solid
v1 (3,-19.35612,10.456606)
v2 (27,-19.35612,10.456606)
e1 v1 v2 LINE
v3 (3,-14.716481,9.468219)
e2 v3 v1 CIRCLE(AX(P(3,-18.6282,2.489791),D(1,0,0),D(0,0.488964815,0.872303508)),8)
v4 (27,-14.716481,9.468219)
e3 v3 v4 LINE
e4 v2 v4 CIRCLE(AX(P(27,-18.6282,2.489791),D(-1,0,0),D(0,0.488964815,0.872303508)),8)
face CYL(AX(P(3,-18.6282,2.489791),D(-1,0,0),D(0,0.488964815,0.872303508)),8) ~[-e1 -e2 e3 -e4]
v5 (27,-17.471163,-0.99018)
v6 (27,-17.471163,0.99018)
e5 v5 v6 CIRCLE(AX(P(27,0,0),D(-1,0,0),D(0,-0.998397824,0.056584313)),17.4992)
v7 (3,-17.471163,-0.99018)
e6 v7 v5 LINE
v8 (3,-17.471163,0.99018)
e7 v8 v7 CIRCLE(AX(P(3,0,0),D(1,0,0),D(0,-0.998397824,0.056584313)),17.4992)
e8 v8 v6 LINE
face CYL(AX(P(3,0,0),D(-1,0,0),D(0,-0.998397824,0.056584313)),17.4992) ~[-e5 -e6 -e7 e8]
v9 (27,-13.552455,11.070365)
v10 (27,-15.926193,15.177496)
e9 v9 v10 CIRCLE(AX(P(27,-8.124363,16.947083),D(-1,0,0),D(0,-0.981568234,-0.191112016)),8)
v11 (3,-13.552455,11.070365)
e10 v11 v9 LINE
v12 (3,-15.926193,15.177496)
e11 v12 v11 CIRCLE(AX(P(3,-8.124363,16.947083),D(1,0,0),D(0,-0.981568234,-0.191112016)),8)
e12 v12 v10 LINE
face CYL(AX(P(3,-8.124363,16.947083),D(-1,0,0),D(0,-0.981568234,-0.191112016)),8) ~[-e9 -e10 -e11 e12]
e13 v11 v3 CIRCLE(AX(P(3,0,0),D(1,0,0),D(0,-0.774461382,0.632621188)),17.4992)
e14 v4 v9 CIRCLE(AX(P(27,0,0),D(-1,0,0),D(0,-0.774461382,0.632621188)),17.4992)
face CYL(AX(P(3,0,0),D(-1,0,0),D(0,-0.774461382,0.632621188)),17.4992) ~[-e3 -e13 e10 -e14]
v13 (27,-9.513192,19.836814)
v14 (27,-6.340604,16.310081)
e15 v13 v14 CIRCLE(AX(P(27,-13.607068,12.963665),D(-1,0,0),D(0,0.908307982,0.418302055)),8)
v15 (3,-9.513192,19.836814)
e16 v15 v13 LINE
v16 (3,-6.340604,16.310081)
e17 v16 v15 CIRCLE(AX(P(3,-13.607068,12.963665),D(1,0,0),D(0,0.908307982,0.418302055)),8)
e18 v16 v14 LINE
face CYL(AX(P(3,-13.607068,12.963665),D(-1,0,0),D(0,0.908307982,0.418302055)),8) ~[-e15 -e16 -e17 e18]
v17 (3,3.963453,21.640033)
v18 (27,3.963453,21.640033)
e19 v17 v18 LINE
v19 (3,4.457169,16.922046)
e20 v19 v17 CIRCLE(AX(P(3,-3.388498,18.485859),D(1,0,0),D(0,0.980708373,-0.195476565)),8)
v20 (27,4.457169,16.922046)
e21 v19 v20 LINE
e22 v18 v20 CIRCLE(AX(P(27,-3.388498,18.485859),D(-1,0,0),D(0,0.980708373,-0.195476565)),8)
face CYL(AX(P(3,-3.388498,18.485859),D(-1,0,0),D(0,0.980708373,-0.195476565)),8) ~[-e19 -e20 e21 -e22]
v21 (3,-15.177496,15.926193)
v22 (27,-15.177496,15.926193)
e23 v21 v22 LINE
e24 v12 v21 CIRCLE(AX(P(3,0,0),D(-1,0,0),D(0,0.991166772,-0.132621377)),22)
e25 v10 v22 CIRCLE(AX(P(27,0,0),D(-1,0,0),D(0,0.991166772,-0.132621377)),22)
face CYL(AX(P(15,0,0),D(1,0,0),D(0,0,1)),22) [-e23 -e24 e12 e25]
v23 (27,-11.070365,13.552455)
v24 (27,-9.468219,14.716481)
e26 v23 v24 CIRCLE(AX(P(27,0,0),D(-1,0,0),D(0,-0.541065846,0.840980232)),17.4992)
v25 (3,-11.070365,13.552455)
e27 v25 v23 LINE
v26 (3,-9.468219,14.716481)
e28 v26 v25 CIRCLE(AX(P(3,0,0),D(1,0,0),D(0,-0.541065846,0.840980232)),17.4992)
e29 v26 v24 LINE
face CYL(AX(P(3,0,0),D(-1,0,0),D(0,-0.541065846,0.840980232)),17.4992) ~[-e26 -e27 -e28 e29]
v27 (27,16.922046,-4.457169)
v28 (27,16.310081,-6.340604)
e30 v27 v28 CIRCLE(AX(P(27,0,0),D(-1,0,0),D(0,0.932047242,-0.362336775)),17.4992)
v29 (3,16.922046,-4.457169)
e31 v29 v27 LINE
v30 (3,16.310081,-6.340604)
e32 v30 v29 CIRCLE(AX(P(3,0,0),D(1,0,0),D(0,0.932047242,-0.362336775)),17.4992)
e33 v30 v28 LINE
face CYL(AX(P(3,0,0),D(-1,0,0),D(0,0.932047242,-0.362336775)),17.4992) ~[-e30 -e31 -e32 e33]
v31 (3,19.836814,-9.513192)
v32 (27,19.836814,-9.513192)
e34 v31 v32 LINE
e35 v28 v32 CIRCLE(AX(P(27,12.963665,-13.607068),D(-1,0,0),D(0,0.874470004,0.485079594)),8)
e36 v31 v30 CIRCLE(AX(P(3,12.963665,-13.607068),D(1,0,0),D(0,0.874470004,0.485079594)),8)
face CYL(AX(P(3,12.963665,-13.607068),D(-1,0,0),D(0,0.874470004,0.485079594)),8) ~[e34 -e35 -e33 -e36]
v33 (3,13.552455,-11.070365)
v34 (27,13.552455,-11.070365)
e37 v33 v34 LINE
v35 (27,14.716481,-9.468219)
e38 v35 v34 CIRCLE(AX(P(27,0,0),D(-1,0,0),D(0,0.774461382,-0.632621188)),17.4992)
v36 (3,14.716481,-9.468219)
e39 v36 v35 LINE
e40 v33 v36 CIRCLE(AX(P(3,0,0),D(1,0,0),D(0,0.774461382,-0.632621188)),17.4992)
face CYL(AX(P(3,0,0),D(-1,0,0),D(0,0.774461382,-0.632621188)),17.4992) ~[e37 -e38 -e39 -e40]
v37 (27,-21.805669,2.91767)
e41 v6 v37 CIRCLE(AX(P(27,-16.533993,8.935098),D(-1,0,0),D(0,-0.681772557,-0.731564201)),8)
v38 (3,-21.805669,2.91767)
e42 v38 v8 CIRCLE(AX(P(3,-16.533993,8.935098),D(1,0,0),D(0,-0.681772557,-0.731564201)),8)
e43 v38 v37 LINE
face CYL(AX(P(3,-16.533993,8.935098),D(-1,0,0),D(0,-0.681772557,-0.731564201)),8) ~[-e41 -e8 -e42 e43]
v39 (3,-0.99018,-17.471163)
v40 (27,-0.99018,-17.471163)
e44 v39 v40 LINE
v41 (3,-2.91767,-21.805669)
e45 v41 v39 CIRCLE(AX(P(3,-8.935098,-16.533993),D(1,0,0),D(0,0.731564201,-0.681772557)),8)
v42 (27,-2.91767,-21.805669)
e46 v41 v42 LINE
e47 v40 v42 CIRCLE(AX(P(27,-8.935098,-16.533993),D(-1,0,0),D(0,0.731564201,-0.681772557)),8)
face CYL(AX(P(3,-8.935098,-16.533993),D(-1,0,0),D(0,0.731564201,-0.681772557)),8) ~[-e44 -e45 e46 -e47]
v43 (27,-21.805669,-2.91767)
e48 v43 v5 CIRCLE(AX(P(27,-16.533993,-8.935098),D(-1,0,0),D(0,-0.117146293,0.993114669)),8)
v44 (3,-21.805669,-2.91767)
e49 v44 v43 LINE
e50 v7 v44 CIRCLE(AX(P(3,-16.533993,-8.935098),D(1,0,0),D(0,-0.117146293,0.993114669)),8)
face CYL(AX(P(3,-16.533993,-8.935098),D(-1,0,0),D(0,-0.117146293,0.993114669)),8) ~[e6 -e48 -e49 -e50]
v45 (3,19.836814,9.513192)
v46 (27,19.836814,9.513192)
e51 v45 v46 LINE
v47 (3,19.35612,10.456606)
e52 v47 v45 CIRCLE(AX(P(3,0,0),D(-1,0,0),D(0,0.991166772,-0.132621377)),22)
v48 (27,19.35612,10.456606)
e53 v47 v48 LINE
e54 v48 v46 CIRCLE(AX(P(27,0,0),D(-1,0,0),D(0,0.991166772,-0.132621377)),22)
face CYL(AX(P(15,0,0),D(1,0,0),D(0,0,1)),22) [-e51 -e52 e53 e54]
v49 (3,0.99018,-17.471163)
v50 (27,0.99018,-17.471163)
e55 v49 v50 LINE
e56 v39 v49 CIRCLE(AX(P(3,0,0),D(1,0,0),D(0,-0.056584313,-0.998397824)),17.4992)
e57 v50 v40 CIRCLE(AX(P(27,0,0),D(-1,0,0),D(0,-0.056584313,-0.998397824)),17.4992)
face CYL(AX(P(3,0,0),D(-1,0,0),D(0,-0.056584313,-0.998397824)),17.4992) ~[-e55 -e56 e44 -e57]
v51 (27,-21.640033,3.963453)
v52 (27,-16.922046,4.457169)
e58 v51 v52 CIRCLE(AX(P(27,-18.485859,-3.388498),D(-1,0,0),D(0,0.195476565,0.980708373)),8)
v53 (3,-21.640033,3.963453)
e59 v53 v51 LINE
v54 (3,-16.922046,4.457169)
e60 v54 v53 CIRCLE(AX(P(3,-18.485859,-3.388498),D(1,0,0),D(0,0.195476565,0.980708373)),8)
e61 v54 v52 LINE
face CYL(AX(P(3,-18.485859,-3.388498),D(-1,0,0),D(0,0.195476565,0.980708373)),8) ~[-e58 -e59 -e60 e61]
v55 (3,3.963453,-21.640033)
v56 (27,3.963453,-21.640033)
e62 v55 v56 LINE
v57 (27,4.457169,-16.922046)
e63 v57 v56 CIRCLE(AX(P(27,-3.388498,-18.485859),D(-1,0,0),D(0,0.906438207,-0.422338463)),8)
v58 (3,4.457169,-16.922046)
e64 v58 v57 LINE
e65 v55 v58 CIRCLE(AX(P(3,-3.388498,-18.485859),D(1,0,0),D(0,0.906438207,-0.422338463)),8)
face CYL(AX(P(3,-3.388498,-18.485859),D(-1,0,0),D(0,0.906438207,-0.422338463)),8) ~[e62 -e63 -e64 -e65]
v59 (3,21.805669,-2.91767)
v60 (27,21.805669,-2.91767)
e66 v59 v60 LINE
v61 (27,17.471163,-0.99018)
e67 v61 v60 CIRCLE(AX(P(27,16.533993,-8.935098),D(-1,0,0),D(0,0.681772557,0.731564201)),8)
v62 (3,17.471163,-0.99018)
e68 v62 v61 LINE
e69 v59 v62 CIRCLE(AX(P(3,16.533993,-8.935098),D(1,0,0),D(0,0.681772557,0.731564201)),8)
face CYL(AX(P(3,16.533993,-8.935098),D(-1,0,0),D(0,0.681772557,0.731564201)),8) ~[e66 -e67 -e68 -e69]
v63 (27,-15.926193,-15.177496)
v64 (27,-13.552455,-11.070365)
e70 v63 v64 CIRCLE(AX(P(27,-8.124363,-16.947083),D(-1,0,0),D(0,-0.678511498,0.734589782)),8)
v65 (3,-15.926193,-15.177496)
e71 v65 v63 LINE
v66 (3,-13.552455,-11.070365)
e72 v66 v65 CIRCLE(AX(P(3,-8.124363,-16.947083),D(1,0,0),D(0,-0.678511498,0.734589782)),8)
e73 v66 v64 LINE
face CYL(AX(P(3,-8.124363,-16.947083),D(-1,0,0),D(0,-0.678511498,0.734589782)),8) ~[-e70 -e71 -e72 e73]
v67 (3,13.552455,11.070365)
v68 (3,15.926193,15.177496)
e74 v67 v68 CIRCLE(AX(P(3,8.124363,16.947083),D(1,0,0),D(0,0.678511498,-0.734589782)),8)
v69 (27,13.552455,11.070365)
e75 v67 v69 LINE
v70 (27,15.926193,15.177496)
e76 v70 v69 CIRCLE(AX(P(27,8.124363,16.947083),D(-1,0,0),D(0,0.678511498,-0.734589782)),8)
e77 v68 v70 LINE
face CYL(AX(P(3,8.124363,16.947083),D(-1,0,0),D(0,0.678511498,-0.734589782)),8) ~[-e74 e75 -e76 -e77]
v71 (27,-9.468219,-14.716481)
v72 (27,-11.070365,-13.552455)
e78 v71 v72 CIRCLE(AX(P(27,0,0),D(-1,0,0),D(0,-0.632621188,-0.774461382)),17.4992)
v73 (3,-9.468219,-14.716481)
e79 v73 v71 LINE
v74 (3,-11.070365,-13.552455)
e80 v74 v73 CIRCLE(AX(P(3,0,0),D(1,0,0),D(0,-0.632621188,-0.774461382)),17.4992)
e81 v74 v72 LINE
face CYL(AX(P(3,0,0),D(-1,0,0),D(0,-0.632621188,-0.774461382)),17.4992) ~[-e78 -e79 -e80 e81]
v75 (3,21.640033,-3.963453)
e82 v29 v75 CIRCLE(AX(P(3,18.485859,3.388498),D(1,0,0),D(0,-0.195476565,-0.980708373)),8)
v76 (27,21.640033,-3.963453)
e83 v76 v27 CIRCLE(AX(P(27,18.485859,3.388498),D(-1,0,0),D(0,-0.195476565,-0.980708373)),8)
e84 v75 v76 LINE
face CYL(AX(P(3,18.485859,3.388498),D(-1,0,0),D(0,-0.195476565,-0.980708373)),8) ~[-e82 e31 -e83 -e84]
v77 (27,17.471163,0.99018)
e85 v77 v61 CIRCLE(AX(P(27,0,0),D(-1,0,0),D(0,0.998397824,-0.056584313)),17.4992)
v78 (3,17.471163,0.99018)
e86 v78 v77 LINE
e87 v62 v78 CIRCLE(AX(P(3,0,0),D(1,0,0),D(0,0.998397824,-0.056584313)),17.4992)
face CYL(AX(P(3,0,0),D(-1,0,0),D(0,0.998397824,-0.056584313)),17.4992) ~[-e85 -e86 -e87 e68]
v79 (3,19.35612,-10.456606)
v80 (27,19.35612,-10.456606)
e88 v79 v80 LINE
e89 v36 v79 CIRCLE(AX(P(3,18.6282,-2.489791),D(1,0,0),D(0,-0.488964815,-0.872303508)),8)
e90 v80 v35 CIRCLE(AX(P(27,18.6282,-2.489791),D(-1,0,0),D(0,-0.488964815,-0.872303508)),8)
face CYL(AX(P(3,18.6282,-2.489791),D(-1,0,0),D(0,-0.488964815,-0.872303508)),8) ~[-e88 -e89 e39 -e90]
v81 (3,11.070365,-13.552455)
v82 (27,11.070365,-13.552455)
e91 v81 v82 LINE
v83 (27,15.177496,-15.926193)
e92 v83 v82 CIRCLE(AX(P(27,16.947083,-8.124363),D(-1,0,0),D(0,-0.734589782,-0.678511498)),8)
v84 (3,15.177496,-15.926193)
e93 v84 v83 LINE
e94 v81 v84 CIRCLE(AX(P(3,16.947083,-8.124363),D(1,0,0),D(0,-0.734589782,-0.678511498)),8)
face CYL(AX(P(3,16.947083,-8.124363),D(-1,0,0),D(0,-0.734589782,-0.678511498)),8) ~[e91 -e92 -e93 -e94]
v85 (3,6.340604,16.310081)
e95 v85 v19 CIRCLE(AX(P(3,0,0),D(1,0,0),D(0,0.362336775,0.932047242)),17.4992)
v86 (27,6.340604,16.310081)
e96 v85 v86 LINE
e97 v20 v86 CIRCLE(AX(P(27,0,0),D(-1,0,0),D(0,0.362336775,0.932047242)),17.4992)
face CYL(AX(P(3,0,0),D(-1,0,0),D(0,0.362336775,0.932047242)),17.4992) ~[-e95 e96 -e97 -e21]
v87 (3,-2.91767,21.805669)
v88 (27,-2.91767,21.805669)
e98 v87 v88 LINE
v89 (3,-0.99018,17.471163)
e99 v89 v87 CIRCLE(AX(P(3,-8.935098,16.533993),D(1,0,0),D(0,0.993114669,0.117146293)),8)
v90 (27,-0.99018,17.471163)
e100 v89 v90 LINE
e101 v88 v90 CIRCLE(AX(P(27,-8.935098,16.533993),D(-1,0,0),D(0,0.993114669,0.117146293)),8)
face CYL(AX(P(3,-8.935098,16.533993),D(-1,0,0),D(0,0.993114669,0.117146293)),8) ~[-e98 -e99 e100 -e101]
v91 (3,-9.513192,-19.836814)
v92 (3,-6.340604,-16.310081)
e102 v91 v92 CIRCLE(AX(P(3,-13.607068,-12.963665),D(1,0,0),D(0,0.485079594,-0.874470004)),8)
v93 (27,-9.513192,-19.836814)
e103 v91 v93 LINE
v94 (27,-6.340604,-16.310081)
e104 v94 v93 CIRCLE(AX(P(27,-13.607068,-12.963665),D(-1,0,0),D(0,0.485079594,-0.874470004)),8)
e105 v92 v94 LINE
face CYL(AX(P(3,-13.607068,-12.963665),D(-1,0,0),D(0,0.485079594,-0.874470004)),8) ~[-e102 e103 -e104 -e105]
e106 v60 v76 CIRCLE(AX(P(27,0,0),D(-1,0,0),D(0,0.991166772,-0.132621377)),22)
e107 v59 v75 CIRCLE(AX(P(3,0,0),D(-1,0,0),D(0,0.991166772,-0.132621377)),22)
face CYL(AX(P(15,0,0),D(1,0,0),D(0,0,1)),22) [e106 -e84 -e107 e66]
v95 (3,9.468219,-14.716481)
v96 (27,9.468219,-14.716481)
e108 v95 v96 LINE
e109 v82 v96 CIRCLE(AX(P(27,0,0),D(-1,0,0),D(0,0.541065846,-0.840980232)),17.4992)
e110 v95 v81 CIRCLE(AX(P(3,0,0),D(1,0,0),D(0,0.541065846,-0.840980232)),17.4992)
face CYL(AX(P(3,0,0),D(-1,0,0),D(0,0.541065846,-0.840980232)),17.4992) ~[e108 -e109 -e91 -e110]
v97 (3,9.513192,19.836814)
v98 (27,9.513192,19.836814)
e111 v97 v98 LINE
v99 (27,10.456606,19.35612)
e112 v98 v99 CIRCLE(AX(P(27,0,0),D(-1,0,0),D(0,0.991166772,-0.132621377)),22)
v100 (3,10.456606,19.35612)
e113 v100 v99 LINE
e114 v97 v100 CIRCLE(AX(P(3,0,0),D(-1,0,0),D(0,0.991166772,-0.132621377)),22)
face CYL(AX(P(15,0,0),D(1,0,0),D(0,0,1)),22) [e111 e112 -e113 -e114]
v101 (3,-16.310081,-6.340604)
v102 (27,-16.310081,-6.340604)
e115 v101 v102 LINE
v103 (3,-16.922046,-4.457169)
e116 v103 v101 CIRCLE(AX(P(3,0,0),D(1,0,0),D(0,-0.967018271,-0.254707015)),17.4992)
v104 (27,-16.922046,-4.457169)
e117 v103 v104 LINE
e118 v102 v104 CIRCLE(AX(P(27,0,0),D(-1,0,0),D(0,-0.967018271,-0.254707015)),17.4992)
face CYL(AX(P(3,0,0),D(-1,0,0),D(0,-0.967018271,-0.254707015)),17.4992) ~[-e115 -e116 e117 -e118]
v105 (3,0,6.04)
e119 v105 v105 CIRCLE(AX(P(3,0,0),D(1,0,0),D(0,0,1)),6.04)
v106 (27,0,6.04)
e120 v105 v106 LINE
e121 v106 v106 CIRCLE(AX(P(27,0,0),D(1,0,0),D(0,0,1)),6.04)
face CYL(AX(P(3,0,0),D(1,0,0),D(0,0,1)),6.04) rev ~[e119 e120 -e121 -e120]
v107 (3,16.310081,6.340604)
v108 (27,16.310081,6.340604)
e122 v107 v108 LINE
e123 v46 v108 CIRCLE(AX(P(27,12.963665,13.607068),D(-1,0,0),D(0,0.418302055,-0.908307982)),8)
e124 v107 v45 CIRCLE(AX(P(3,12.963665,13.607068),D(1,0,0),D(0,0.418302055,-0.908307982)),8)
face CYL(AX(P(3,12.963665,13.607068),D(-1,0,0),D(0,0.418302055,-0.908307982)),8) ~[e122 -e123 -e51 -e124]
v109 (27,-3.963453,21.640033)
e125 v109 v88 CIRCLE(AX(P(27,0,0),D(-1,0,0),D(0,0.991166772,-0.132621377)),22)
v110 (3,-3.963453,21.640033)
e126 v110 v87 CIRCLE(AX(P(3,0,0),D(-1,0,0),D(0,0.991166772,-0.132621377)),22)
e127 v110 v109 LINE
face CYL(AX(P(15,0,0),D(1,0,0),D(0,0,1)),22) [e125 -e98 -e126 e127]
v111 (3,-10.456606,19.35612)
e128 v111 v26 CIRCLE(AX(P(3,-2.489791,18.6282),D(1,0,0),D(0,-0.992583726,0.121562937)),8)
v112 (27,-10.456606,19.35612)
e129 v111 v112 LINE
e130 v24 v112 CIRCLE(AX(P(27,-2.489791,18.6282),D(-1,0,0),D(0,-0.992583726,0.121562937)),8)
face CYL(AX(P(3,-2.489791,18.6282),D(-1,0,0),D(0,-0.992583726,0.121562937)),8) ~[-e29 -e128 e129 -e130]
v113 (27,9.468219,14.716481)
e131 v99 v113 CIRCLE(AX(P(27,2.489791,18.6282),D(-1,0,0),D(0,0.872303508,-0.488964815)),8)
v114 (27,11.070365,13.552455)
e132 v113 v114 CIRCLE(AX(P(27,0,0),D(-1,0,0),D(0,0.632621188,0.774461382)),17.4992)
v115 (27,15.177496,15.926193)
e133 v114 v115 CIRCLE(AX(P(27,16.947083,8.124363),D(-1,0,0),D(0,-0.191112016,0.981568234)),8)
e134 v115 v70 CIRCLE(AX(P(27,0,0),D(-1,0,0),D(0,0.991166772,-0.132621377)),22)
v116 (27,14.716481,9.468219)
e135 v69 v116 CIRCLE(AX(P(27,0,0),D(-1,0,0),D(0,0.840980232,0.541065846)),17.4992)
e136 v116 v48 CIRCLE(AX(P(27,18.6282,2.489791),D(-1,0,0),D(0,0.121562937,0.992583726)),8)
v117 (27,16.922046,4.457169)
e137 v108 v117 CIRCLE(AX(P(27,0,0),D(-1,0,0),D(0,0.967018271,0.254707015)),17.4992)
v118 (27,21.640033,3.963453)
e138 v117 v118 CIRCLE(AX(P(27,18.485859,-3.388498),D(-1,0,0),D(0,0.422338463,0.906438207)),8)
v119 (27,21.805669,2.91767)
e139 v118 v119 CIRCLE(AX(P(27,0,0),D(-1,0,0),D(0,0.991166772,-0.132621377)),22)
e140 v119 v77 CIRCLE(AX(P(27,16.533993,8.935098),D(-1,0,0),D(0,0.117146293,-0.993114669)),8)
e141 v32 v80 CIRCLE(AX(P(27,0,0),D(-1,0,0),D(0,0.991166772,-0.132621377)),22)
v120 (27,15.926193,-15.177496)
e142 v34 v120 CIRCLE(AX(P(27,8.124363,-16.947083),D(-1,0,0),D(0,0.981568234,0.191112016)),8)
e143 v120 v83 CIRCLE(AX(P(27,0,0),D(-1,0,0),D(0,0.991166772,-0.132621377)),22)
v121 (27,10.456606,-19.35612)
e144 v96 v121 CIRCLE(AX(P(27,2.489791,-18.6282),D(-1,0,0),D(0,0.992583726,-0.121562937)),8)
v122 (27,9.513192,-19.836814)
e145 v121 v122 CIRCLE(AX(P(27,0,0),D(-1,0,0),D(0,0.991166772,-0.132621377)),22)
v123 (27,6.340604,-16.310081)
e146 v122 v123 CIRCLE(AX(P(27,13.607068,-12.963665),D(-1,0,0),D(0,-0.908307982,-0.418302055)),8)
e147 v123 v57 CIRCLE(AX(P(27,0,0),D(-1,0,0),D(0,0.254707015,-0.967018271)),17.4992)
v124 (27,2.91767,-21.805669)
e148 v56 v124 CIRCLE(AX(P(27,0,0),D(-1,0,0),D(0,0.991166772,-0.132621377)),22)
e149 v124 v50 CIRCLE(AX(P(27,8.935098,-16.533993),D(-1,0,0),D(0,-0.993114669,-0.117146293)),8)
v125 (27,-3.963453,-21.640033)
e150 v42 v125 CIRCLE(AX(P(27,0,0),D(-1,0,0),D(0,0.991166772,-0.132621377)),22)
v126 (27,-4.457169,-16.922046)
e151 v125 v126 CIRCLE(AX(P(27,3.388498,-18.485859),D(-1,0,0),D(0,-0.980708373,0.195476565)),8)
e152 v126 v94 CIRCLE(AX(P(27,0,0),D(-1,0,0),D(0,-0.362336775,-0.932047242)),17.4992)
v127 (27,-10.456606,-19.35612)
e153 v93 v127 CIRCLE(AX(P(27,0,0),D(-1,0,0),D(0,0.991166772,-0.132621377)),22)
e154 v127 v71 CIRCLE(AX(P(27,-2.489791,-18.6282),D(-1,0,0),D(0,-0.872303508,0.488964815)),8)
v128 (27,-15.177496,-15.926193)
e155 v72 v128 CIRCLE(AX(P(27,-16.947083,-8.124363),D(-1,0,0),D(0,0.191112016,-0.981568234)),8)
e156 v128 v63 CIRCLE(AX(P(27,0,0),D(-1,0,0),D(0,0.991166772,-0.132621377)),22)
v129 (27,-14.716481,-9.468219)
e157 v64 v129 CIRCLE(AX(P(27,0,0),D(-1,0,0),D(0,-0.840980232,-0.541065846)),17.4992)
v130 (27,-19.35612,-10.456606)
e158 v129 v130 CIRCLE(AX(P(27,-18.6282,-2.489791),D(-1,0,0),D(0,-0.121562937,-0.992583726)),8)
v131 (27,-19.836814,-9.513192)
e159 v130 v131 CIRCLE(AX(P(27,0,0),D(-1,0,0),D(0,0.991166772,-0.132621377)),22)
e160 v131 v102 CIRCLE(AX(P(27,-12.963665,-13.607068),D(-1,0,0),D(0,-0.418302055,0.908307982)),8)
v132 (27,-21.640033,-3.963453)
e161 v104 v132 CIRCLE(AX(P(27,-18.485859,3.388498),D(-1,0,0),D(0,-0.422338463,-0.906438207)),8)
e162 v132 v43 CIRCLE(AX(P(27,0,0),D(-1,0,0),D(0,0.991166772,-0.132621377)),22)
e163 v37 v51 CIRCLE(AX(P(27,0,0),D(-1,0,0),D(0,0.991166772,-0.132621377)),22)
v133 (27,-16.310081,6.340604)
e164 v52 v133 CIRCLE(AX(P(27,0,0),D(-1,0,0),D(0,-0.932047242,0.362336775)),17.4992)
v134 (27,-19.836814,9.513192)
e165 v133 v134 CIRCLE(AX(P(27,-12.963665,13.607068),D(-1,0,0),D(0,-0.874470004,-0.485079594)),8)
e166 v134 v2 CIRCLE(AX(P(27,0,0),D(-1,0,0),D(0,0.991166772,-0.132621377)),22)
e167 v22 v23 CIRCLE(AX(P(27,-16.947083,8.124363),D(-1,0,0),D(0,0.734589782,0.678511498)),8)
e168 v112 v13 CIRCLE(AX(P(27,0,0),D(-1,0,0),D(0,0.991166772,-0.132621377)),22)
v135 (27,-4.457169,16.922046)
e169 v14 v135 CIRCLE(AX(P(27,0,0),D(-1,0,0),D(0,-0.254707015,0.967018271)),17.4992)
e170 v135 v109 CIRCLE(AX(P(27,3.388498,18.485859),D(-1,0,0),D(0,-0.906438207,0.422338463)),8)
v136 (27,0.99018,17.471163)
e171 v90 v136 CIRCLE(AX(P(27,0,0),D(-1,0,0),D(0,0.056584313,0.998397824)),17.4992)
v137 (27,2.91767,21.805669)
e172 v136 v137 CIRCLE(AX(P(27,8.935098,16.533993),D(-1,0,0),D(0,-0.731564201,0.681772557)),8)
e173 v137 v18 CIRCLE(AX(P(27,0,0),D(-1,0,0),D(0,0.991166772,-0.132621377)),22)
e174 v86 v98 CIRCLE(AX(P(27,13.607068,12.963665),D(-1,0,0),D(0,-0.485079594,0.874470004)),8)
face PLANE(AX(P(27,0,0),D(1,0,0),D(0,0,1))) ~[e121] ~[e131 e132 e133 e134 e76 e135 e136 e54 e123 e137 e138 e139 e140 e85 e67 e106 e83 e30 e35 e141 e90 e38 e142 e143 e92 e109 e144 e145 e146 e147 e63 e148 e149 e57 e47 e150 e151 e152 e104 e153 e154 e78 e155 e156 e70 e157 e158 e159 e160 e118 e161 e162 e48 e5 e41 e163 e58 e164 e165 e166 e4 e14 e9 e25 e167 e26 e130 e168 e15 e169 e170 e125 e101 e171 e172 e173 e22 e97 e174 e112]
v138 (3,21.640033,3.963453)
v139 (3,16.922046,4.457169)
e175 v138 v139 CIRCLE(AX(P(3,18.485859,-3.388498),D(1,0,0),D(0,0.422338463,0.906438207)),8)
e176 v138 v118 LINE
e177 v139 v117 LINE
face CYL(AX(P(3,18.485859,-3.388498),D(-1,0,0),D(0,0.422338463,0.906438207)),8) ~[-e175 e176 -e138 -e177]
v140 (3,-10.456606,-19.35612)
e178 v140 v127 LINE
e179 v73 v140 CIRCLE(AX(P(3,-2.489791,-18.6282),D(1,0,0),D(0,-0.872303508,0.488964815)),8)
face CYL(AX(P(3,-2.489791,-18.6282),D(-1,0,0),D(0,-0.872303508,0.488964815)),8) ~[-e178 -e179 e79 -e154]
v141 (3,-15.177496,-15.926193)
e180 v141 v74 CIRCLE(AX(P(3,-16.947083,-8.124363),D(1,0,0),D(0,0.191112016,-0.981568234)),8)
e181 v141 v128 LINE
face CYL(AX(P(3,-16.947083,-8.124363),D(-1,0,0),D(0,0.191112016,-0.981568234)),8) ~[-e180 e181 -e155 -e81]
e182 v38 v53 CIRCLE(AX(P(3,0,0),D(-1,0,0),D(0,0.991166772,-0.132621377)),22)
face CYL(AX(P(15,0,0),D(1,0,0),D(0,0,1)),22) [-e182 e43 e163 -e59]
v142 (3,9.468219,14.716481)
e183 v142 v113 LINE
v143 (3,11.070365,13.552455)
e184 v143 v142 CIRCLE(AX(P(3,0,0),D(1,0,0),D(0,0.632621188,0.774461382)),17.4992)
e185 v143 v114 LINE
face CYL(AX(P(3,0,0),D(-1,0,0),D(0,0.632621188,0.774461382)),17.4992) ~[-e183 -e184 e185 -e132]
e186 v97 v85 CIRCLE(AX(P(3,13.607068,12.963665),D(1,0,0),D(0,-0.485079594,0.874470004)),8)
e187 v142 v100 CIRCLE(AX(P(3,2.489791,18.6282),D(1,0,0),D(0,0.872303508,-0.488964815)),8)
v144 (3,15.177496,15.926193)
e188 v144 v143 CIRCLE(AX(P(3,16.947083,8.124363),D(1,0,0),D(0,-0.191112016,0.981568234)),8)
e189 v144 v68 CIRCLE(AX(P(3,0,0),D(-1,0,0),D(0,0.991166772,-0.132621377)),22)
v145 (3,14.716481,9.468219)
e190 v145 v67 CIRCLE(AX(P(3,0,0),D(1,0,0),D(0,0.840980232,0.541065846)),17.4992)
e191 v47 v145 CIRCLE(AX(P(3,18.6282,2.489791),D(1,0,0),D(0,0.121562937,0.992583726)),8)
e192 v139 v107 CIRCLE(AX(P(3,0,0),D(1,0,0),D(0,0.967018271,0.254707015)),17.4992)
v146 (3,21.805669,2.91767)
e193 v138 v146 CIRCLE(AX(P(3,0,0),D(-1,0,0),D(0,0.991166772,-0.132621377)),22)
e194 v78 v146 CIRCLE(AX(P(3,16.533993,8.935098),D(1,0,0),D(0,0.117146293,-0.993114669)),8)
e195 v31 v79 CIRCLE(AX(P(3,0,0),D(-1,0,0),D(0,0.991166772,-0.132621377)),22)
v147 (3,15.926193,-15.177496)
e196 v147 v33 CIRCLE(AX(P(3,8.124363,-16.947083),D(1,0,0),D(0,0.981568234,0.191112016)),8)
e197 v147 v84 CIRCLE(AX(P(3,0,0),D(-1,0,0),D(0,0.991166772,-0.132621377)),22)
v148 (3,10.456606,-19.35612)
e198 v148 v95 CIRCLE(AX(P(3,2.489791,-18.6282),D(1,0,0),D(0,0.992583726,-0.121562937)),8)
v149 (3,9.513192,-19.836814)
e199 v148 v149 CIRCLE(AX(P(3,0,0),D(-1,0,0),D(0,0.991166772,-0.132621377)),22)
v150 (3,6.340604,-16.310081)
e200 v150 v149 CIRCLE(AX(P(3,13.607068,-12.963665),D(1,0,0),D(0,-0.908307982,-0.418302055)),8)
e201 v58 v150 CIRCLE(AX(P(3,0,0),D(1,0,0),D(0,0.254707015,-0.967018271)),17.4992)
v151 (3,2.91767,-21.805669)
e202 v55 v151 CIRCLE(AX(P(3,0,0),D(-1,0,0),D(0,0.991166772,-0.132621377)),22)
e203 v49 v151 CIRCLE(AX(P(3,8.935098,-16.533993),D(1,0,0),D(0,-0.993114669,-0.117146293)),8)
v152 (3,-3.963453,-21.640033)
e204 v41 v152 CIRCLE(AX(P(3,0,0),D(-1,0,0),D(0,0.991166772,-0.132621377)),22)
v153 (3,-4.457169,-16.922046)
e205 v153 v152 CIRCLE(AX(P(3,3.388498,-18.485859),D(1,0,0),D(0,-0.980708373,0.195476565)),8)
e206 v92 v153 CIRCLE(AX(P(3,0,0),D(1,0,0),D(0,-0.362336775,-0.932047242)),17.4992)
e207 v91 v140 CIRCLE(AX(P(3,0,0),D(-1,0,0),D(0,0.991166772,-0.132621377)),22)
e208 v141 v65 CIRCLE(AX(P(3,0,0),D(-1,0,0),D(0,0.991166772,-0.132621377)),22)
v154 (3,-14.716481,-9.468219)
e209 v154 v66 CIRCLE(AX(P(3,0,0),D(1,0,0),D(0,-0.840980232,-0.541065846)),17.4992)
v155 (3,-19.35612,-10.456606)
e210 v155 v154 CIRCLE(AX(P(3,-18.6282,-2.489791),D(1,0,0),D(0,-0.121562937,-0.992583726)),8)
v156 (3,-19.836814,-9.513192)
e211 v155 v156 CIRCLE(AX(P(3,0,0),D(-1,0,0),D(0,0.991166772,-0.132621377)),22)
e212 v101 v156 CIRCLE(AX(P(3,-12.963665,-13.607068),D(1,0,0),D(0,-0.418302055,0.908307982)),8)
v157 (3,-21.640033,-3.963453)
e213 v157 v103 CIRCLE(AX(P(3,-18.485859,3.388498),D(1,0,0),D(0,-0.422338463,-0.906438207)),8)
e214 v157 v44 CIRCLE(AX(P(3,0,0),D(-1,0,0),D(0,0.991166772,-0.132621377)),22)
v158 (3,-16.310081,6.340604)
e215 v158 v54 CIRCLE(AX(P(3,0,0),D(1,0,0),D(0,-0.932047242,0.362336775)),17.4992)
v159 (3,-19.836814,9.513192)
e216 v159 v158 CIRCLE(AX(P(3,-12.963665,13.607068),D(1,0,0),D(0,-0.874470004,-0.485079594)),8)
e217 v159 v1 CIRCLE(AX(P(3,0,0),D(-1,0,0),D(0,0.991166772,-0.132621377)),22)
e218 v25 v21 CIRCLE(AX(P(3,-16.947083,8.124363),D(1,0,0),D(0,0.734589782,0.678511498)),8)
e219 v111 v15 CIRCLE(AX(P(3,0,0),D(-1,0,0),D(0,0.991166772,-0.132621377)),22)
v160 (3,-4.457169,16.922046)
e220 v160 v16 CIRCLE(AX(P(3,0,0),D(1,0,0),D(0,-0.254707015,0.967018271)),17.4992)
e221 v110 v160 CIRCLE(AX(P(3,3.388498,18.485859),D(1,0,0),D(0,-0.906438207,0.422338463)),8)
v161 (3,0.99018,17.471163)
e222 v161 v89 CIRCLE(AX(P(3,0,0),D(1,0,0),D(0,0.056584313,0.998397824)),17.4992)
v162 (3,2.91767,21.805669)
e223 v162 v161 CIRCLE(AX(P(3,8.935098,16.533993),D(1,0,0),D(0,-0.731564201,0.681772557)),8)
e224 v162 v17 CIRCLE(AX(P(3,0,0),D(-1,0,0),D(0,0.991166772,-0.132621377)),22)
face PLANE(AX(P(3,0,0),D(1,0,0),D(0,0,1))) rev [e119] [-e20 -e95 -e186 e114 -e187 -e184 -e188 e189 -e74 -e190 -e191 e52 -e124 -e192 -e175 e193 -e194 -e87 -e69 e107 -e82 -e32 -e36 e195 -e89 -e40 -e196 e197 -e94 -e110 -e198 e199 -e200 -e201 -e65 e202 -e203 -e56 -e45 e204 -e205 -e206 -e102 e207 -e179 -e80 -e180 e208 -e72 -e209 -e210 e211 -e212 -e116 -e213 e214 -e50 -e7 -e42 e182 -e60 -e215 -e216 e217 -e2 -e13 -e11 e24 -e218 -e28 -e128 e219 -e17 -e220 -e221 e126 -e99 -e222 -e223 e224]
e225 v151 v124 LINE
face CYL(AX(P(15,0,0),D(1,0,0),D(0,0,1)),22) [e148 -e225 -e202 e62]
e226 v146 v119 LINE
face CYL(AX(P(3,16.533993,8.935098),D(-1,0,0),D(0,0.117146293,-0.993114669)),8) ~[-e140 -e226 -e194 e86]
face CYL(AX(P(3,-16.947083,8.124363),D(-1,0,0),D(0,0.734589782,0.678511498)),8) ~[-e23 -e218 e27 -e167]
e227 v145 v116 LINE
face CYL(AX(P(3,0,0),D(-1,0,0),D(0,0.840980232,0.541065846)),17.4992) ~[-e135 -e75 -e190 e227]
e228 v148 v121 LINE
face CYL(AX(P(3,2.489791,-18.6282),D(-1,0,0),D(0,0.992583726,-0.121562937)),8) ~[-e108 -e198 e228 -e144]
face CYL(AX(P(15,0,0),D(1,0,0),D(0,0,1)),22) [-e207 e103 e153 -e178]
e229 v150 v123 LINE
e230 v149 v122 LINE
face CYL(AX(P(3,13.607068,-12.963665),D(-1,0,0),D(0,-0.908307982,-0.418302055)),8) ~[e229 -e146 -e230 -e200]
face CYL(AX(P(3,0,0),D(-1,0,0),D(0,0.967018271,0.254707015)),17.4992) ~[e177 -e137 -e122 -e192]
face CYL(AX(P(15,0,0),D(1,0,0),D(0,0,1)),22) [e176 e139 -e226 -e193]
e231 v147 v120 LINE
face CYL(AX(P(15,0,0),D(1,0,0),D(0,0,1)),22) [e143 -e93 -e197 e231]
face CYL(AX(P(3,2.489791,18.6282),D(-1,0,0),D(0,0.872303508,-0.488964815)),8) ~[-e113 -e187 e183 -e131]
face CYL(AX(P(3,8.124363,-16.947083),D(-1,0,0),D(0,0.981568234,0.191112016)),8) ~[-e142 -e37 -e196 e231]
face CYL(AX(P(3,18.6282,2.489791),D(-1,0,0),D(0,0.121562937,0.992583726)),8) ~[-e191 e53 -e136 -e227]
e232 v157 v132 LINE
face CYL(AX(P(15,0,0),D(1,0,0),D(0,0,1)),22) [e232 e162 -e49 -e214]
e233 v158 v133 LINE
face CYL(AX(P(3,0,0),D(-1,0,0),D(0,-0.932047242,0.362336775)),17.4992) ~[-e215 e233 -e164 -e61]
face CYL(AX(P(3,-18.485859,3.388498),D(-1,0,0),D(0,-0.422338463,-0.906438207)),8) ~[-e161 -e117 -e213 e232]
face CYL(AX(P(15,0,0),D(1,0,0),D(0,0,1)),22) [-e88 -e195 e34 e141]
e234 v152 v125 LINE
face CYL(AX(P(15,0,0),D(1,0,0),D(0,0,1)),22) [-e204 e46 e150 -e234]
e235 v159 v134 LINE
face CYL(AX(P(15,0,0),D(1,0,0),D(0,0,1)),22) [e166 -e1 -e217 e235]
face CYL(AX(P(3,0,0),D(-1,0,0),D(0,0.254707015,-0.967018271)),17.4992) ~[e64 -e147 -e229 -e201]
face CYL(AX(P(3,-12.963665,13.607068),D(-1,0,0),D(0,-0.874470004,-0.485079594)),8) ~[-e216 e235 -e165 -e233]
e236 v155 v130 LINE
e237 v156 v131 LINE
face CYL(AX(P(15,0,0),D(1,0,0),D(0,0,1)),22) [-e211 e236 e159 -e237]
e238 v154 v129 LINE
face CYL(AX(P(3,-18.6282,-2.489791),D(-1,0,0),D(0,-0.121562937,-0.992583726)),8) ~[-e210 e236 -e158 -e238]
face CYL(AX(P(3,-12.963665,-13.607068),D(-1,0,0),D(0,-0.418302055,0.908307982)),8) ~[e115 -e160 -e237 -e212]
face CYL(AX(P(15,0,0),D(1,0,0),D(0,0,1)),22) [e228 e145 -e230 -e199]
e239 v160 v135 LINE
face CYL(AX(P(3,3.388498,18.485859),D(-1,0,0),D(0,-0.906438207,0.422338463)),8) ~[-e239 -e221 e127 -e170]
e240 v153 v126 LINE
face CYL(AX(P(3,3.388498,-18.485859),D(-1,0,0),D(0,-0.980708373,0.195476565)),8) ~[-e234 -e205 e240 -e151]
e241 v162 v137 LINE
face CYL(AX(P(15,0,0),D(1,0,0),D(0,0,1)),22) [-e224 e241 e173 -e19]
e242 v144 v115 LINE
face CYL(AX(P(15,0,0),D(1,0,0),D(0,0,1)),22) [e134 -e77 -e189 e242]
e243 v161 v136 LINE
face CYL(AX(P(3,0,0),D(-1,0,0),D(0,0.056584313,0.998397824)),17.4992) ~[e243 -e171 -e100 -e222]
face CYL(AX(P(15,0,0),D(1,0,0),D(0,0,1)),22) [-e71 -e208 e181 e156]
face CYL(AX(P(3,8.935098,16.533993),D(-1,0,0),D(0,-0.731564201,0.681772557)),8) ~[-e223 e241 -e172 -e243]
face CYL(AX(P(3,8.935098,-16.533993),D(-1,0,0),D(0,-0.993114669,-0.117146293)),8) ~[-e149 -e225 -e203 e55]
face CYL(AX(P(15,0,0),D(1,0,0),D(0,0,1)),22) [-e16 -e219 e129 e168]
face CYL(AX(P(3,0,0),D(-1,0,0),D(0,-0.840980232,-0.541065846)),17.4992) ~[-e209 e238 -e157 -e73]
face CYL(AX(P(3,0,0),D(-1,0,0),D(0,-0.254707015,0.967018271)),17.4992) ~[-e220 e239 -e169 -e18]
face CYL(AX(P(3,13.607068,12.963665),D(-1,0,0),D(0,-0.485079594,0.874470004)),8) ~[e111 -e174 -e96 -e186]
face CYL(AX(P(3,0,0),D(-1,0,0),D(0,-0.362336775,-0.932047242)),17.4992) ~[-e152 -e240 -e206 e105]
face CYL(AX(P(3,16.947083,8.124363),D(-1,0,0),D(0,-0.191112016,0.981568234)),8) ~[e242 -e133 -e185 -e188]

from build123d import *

# Parameters (mm, degrees)
BASPROSKE_W     = 30
BASPROSKE_H     = 27.5
TOOTHCUT_DEPTH  = 50.117206761
TEETHCUTS_COUNT = 20
TEETHCUTS_ANGLE = 342
BORSKE_R        = 7.55
BORE_DEPTH      = 50.000508
SCALE1_SCALE    = 0.8


with BuildPart() as part:
    # BasProSke → Base-Revolve (revolve)
    with BuildSketch(Plane(origin=(0, 0, 0), x_dir=(1, 0, 0), z_dir=(0, 1, 0)), mode=Mode.PRIVATE) as base_revolve_sk:
        with Locations((15, 13.75)):
            Rectangle(BASPROSKE_W, BASPROSKE_H)
    revolve(base_revolve_sk.sketch.rotate(Axis((-10, 0, 0), (1, 0, 0)), 180), axis=Axis((-10, 0, 0), (1, 0, 0)))

    # TooCutSke → ToothCut (cut, through all)
    with BuildSketch(Plane(origin=(0, 0, 0), x_dir=(0, 0, -1), z_dir=(1, 0, 0))):
        with BuildLine():
            ThreePointArc((1.237725267, 21.838954008), (0, 21.874), (-1.237725267, 21.838954008))
            ThreePointArc((-1.237725267, 21.838954008), (-2.095118569, 24.870704072), (-3.853229952, 27.485216662))
            ThreePointArc((-3.853229952, 27.485216662), (0, 27.754), (3.853229952, 27.485216662))
            ThreePointArc((3.853229952, 27.485216662), (2.095118569, 24.870704072), (1.237725267, 21.838954008))
        make_face()
    toothcut = extrude(amount=TOOTHCUT_DEPTH, mode=Mode.SUBTRACT)

    # TeethCuts: ToothCut ×20 about axis
    teethcuts_axis = Axis((-10, 0, 0), (1, 0, 0))
    for i in range(1, TEETHCUTS_COUNT):
        add(toothcut.rotate(teethcuts_axis, i * TEETHCUTS_ANGLE / (TEETHCUTS_COUNT - 1)), mode=Mode.SUBTRACT)

    # BorSke → Bore (cut, symmetric)
    with BuildSketch(Plane(origin=(0, 0, 0), x_dir=(0, 0, -1), z_dir=(1, 0, 0))):
        with Locations(Location((0, 0, 0), (0, 0, 180))):
            Circle(BORSKE_R)
    extrude(amount=BORE_DEPTH, both=True, mode=Mode.SUBTRACT)


with BuildPart() as part_1:
    # Scale1: scaled about (15, 0, 0)
    add(part.part.scale(SCALE1_SCALE).moved(Location((3, 0, 0))))


solid = part_1.part
